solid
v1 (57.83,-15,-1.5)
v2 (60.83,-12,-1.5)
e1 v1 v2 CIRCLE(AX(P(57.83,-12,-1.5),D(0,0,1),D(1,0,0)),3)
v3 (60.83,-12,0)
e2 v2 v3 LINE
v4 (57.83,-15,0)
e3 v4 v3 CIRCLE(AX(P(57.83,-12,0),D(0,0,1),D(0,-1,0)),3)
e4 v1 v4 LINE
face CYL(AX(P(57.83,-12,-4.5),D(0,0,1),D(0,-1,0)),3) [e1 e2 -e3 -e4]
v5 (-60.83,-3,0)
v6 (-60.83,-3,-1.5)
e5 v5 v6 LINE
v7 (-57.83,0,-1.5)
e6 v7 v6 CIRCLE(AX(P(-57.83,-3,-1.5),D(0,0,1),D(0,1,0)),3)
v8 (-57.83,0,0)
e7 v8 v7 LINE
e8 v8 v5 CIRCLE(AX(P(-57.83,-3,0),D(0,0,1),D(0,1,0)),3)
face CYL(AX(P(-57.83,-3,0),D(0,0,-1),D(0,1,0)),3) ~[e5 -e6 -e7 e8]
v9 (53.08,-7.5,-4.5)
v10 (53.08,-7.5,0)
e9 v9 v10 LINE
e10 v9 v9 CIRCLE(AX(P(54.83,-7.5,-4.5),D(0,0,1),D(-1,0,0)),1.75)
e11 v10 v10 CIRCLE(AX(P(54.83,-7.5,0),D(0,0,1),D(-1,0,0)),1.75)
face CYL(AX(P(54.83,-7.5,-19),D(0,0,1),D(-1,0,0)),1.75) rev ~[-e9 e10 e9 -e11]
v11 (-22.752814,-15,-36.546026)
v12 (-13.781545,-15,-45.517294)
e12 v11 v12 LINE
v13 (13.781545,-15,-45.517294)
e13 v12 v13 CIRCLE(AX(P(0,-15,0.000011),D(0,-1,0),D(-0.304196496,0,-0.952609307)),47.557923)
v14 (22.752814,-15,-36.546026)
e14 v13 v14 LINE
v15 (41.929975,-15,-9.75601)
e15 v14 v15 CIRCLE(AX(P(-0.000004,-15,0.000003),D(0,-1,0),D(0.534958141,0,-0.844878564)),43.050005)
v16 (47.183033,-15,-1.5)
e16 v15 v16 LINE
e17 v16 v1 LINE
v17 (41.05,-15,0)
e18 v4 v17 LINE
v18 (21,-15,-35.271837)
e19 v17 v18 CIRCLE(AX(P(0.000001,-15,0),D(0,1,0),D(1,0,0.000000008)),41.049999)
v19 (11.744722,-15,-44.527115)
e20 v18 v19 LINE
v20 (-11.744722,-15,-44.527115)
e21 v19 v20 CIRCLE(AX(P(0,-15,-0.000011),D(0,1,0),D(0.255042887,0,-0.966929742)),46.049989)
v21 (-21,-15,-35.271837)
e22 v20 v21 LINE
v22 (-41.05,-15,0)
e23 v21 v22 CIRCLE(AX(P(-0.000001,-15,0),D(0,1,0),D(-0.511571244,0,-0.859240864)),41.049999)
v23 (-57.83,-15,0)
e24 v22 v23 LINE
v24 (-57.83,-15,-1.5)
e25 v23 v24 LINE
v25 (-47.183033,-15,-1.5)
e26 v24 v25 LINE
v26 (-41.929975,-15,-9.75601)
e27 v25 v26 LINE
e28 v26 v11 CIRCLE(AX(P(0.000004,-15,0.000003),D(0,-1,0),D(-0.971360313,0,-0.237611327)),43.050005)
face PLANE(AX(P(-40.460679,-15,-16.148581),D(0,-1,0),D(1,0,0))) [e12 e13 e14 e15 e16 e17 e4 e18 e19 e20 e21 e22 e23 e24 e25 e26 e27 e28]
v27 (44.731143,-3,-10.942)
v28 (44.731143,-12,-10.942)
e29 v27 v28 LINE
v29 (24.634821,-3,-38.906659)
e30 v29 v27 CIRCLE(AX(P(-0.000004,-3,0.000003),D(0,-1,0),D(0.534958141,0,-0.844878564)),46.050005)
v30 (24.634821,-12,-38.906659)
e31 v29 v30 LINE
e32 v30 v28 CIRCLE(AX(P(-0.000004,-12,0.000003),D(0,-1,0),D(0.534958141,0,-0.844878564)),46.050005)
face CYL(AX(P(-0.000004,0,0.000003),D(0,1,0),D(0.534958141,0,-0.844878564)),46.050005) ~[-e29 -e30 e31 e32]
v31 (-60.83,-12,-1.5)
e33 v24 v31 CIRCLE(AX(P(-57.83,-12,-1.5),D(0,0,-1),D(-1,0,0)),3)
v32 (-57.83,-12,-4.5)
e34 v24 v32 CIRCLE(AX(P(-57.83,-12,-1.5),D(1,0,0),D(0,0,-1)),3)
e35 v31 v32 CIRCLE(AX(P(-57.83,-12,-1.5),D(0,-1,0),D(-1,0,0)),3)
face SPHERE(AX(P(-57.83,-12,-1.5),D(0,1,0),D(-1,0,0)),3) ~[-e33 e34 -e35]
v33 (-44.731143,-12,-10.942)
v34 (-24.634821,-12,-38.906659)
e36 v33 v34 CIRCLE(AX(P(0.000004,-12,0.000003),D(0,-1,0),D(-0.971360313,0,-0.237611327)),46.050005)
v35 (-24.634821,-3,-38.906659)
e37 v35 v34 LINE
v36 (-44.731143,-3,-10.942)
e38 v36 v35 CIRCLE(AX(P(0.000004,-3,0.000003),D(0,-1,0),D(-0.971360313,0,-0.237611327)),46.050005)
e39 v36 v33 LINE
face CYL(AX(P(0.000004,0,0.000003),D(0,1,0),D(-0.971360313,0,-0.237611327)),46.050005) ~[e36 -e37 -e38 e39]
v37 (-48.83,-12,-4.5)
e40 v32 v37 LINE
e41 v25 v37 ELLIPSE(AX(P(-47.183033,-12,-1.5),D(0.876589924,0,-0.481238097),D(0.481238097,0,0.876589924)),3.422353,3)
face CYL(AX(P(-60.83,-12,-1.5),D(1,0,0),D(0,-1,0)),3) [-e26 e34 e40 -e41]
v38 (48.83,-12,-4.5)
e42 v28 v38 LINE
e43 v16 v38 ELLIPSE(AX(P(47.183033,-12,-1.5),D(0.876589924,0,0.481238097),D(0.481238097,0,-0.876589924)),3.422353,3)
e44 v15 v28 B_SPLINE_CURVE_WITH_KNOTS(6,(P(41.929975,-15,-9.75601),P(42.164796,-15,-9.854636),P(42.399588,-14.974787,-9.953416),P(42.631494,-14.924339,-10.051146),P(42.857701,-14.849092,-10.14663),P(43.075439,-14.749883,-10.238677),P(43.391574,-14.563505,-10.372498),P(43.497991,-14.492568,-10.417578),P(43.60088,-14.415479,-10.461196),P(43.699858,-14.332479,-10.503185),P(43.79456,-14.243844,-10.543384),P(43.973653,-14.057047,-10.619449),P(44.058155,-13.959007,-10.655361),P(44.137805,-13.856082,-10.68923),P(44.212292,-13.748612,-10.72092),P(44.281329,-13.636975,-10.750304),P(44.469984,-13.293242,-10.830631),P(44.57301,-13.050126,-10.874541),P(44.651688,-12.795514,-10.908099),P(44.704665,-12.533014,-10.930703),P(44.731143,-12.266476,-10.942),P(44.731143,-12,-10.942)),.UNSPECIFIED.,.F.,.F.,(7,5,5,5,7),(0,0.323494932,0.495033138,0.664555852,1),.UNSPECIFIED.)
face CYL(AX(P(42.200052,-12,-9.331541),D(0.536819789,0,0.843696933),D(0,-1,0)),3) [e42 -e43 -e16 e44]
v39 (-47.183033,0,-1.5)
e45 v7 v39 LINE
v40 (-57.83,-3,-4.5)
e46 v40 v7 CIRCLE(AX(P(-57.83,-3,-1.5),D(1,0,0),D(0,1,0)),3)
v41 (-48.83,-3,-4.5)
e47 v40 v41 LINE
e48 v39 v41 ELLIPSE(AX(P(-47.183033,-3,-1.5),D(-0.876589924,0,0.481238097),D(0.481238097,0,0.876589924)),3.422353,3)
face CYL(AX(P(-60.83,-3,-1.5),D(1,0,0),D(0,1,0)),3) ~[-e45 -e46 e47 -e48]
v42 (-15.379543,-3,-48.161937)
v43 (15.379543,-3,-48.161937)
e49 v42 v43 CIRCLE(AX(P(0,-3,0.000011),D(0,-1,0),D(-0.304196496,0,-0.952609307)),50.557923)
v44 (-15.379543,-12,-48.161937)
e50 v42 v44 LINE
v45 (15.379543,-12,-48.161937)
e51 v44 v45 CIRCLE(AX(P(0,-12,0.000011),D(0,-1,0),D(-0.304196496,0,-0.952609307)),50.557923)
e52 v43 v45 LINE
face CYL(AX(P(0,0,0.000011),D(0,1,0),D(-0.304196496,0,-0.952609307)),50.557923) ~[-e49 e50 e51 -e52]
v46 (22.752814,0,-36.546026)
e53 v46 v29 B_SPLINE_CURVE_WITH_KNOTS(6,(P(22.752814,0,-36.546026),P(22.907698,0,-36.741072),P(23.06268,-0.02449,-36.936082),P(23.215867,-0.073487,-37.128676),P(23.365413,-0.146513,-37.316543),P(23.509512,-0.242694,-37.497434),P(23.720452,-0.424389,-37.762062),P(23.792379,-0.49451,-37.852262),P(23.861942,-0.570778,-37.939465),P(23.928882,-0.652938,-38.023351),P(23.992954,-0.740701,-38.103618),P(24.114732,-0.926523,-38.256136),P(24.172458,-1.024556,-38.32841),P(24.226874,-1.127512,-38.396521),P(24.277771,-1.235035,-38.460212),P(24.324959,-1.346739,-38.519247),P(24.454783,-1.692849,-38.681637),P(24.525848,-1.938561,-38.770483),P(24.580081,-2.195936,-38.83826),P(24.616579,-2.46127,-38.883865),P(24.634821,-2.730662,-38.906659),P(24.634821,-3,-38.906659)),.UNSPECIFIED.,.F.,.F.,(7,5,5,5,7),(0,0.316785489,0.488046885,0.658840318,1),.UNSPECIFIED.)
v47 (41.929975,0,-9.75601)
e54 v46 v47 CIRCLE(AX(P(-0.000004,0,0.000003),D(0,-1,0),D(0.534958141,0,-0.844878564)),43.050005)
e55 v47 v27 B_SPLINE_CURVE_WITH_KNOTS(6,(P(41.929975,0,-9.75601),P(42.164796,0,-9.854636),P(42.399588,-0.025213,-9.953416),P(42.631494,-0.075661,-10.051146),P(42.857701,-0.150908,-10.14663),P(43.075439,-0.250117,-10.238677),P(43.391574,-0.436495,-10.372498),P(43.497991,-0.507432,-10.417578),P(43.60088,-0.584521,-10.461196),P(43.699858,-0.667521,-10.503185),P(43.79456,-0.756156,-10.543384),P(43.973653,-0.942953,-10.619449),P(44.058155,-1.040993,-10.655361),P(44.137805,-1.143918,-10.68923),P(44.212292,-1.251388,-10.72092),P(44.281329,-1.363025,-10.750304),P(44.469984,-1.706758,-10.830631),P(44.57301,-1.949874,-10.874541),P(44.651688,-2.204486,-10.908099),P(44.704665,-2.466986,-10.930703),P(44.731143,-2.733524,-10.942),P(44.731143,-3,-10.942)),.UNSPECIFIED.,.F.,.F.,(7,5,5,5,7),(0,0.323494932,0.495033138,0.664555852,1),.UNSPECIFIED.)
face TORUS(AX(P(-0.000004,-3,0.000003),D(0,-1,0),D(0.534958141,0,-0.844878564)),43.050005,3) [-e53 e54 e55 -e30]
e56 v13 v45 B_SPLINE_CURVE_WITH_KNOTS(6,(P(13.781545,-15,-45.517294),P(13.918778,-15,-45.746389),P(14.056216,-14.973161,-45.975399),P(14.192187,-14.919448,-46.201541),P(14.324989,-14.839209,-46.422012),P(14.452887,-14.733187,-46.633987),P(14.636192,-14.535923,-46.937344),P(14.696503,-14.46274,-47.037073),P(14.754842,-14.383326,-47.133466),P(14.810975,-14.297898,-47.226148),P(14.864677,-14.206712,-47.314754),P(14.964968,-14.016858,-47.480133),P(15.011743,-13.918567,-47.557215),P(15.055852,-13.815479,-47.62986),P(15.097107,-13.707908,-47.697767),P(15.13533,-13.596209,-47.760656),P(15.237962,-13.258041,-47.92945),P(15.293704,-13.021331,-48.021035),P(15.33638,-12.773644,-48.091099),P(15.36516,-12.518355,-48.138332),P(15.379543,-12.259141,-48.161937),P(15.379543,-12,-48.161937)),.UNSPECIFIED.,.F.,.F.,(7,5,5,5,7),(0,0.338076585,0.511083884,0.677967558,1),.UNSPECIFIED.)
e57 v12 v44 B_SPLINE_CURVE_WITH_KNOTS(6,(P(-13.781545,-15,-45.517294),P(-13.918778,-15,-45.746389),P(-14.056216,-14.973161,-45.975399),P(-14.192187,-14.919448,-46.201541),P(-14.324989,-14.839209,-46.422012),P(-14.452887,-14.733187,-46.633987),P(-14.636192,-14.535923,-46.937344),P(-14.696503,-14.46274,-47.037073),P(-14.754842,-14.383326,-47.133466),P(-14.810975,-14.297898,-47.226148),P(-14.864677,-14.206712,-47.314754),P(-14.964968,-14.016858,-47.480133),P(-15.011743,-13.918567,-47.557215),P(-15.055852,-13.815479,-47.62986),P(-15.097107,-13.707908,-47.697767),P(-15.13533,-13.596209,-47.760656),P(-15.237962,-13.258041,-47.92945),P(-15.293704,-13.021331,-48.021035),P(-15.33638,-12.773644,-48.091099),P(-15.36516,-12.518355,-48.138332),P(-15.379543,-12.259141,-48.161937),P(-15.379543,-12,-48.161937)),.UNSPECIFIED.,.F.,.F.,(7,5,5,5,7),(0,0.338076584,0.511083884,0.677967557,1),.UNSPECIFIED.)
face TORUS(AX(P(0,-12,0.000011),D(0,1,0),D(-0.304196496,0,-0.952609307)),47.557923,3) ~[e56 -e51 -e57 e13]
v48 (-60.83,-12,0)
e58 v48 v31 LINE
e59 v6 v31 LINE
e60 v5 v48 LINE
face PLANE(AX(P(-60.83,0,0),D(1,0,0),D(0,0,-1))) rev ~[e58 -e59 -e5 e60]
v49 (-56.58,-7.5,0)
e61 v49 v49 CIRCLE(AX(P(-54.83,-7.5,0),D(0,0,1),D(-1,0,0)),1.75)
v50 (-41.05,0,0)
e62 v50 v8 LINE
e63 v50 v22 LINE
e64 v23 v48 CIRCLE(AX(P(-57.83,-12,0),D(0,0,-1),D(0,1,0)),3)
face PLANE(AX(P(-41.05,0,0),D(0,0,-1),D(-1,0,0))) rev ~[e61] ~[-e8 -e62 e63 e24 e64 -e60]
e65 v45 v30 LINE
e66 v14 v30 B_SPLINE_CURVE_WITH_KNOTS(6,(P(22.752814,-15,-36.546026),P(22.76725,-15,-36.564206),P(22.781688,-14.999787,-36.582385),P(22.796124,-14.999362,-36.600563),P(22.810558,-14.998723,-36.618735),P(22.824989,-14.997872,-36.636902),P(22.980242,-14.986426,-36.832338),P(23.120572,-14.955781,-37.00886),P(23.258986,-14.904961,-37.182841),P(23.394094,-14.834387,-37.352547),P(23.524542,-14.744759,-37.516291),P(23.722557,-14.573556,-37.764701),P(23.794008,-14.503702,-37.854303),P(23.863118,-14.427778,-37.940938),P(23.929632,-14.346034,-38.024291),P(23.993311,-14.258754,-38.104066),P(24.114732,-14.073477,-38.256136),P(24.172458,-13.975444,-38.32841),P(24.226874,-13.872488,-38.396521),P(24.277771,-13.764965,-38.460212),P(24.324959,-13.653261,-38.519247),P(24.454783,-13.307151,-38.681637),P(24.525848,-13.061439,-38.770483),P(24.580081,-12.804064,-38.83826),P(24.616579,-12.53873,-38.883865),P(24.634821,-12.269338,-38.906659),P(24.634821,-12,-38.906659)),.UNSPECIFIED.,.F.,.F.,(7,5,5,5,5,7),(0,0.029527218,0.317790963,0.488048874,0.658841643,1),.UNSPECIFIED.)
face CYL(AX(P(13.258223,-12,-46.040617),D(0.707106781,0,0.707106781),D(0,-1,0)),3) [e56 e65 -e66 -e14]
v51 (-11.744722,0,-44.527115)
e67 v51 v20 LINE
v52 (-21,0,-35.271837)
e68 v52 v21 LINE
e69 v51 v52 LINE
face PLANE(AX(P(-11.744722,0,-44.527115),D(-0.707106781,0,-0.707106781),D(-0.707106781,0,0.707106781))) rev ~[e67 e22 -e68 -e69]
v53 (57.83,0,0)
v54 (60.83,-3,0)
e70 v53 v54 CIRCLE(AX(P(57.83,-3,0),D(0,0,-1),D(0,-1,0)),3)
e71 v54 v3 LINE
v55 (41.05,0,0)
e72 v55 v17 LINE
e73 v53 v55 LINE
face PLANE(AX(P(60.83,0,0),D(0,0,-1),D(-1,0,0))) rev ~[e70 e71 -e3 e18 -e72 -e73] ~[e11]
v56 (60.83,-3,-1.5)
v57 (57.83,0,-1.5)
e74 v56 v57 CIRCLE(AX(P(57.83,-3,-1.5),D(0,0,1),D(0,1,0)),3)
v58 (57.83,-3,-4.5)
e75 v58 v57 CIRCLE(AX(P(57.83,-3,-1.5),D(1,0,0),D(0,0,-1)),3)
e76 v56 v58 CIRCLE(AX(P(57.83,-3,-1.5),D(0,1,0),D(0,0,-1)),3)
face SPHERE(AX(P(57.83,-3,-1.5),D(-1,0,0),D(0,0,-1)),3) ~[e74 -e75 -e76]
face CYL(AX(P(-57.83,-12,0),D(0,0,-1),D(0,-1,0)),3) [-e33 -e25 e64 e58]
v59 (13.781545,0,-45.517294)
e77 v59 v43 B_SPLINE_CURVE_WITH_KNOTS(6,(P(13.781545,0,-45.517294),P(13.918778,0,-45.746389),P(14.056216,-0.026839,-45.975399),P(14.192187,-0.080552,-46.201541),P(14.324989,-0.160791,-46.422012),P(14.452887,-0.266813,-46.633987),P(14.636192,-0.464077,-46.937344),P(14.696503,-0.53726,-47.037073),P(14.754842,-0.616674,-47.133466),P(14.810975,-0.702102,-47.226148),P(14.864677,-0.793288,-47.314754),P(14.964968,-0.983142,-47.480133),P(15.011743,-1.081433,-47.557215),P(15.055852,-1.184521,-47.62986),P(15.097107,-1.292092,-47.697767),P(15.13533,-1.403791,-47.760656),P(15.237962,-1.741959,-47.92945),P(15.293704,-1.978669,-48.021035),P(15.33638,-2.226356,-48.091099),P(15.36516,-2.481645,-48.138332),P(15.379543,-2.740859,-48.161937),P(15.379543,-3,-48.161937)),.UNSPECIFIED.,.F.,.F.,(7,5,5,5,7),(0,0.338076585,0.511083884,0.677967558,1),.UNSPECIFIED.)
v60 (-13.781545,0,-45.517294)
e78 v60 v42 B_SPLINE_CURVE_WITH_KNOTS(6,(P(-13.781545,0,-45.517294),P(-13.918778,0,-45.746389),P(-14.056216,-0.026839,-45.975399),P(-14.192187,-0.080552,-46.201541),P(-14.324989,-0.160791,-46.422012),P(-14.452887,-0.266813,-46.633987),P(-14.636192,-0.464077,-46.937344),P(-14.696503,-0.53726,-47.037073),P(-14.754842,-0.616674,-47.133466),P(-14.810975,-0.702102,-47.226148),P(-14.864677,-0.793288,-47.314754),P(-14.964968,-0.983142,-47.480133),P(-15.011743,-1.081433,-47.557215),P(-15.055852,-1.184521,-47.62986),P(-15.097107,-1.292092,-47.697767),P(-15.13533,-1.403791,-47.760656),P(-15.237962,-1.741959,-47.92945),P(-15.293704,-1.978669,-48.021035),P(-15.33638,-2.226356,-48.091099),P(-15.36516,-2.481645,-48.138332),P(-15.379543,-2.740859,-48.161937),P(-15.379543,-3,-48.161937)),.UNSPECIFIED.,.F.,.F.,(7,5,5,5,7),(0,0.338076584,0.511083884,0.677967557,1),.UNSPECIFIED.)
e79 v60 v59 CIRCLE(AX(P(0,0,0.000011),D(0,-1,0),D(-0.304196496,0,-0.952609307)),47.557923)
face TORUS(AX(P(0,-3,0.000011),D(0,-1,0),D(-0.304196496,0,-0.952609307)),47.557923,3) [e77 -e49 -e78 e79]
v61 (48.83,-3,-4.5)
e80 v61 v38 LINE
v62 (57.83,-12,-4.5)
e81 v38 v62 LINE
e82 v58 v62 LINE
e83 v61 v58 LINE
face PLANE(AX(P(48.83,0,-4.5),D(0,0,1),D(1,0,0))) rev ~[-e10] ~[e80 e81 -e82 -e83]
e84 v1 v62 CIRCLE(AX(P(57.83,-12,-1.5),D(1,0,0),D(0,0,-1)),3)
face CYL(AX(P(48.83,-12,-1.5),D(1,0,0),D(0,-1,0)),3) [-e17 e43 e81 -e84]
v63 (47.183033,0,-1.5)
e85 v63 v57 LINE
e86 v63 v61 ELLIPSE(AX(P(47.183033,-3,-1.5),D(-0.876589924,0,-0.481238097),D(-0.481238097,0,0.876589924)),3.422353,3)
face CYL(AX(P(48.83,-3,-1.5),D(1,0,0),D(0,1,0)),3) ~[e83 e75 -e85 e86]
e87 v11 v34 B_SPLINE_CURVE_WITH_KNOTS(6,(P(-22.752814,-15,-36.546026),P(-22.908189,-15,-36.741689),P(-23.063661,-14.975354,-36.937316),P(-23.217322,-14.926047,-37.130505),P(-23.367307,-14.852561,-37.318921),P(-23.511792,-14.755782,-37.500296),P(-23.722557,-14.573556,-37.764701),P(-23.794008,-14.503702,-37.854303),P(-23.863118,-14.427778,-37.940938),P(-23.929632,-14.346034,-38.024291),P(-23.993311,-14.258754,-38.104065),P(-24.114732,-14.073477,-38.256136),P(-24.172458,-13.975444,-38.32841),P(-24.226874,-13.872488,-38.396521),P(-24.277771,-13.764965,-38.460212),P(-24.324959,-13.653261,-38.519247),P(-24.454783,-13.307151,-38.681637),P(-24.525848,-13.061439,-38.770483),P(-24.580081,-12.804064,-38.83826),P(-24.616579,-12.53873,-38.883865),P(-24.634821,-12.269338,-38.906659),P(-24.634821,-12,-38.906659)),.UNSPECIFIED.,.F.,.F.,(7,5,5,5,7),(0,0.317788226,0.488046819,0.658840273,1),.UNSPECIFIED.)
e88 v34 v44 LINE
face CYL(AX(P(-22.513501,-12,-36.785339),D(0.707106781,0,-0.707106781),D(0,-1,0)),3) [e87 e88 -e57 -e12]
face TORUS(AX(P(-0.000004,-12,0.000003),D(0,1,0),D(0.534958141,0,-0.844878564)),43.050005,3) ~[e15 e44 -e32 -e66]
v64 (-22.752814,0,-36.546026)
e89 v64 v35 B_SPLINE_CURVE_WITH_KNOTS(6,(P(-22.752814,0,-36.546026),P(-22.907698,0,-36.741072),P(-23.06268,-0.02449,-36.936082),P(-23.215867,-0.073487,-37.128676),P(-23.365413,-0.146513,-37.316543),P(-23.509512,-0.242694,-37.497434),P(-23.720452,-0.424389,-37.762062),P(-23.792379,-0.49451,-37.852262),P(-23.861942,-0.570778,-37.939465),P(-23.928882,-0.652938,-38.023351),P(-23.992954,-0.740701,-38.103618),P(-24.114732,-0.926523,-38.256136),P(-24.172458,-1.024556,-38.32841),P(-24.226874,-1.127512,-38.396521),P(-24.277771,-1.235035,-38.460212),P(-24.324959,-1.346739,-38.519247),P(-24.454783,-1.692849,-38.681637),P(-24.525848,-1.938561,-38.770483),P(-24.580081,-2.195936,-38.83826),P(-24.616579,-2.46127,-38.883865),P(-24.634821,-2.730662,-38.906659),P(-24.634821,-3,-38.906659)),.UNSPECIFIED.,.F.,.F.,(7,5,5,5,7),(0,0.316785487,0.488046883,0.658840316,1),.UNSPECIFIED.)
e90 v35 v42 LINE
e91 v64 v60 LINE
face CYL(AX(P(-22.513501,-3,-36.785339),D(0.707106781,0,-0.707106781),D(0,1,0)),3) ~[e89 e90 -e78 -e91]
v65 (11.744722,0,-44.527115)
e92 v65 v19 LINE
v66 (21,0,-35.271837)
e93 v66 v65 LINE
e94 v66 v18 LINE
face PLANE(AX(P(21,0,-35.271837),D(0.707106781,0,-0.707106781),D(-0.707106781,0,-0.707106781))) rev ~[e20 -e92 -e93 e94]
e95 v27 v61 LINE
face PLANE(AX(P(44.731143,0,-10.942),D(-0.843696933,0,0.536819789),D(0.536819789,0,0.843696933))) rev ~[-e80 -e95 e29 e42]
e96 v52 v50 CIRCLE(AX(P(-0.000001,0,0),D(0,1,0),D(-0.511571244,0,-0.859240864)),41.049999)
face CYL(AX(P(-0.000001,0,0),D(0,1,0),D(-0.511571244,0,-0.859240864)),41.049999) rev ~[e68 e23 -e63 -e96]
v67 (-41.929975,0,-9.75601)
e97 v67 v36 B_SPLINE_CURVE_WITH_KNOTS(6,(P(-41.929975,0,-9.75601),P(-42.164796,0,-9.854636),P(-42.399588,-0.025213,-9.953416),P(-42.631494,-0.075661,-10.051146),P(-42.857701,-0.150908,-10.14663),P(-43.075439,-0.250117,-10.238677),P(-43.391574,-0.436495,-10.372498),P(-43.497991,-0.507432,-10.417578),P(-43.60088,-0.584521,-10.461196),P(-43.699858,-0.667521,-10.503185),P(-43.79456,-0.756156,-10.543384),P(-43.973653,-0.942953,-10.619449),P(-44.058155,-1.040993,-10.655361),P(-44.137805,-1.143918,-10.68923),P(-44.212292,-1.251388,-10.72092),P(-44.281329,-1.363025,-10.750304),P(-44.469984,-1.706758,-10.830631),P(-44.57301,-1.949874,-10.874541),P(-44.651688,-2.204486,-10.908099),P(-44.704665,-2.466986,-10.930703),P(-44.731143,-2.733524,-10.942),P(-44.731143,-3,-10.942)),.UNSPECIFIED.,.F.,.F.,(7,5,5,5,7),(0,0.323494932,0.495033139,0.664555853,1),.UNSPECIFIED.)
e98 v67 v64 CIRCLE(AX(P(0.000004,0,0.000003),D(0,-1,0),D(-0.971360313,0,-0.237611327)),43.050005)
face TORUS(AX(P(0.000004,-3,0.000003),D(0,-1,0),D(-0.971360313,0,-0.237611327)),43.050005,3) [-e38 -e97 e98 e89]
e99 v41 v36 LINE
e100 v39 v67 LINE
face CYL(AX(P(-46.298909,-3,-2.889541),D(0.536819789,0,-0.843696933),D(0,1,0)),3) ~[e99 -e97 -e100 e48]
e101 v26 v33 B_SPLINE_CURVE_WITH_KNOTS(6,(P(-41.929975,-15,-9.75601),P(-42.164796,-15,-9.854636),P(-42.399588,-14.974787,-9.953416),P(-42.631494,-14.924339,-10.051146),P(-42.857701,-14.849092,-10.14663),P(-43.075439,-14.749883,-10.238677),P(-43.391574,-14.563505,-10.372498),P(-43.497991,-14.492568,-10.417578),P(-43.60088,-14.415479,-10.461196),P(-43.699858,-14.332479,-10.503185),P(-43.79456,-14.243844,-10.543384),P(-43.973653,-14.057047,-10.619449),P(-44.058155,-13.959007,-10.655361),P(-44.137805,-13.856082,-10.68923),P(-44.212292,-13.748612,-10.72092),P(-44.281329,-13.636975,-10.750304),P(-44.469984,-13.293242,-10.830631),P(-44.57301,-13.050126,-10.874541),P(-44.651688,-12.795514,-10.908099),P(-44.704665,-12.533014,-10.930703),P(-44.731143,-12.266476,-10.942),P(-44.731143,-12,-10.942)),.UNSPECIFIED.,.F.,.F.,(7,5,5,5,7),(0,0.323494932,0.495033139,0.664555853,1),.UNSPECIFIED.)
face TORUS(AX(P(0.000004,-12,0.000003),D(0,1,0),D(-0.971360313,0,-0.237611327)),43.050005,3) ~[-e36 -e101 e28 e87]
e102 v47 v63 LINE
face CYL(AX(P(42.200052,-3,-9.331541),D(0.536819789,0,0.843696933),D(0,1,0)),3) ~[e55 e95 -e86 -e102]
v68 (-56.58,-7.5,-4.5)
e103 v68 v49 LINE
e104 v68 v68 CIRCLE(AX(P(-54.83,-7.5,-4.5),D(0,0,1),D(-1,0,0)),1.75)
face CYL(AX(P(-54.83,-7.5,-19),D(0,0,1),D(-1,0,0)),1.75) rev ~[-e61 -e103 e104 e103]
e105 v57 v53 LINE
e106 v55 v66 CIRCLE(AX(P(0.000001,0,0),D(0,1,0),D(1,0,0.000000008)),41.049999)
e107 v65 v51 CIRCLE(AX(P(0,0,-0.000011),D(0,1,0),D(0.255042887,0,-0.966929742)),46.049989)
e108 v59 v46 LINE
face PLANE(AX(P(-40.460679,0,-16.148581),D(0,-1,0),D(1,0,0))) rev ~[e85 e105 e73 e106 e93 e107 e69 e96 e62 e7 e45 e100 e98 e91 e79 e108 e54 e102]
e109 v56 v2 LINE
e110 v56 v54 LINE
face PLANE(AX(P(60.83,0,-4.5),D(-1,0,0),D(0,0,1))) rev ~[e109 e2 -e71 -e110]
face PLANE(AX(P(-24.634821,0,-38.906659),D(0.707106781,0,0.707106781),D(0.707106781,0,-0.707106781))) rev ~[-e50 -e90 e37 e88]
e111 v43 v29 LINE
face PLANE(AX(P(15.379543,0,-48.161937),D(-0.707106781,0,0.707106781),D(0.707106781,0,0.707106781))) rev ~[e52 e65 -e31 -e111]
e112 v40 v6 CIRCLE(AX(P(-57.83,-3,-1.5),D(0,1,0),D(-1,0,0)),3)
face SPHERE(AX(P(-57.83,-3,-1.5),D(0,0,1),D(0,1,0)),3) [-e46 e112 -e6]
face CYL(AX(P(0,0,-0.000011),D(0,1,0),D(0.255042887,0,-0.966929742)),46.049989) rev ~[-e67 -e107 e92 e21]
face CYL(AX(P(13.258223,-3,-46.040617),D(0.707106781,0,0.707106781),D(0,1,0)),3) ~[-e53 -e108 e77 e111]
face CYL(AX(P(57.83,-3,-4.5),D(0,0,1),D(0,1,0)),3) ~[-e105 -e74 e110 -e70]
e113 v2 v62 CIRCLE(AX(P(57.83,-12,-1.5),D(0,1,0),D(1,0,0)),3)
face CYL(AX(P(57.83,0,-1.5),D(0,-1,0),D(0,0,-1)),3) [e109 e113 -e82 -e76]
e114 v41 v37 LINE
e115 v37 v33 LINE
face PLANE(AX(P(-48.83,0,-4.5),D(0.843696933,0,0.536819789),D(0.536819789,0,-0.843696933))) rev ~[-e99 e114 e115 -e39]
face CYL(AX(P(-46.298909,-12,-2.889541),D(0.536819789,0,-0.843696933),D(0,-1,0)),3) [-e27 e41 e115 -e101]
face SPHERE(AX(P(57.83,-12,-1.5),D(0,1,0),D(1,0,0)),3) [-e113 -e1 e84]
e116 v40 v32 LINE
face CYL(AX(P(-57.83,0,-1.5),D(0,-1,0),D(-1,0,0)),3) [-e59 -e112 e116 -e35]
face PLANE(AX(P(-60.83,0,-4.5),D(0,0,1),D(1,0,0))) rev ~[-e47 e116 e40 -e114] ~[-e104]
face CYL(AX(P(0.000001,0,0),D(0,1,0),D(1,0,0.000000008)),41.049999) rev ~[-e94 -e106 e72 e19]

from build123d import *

# Parameters (mm, degrees)
F1_DEPTH = 15
F4_D     = 3.5
F4_DEPTH = 14.5
F5_R     = 3


with BuildPart() as f1:
    # F0 (on Front) → F1 (new body)
    with BuildSketch(Plane.XZ):
        with BuildLine():
            ThreePointArc((-21, -35.271837), (-35.6872, -20.28611), (-41.05, 0))
            Line((-41.05, 0), (-60.83, 0))
            Line((-60.83, 0), (-60.83, -4.5))
            Line((-60.83, -4.5), (-48.83, -4.5))
            Line((-48.83, -4.5), (-44.731143, -10.942))
            ThreePointArc((-44.731143, -10.942), (-37.395384, -26.873551), (-24.634821, -38.906659))
            Line((-24.634821, -38.906659), (-21, -35.271837))
        make_face()
        with BuildLine():
            ThreePointArc((41.05, 0), (35.6872, -20.28611), (21, -35.271837))
            Line((21, -35.271837), (24.634821, -38.906659))
            ThreePointArc((24.634821, -38.906659), (37.395384, -26.873551), (44.731143, -10.942))
            Line((44.731143, -10.942), (48.83, -4.5))
            Line((48.83, -4.5), (60.83, -4.5))
            Line((60.83, -4.5), (60.83, 0))
            Line((60.83, 0), (41.05, 0))
        make_face()
        with BuildLine():
            ThreePointArc((11.744722, -44.527115), (0, -46.05), (-11.744722, -44.527115))
            Line((-11.744722, -44.527115), (-15.379543, -48.161937))
            ThreePointArc((-15.379543, -48.161937), (0, -50.557912), (15.379543, -48.161937))
            Line((15.379543, -48.161937), (11.744722, -44.527115))
        make_face()
        Polygon((-11.744722, -44.527115), (-21, -35.271837), (-24.634821, -38.906659), (-15.379543, -48.161937), align=None)
        Polygon((24.634821, -38.906659), (21, -35.271837), (11.744722, -44.527115), (15.379543, -48.161937), align=None)
    extrude(amount=F1_DEPTH)

    # F4
    with Locations(Plane(origin=(0, 0, -4.5), x_dir=(1, 0, 0), z_dir=(0, 0, -1))):
        with Locations((-54.83, 7.5), (54.83, 7.5)):
            Hole(F4_D / 2, depth=F4_DEPTH)

    # F5
    f5_edges = [f1.edges().sort_by_distance(p)[0] for p in [
        (-60.83, 0, -2.25),
        (-54.83, 0, -4.5),
        (-60.83, -7.5, -4.5),
        (-60.83, -15, -2.25),
        (-54.83, -15, -4.5),
        (-46.780571, -15, -7.721),
        (-46.780571, 0, -7.721),
        (-20.007182, 0, -43.534298),
        (-37.395384, 0, -26.873551),
        (0, 0, -50.557912),
        (20.007182, 0, -43.534298),
        (37.395384, 0, -26.873551),
        (46.780571, 0, -7.721),
        (54.83, 0, -4.5),
        (60.83, -7.5, -4.5),
        (60.83, -15, -2.25),
        (54.83, -15, -4.5),
        (46.780571, -15, -7.721),
        (-20.007182, -15, -43.534298),
        (0, -15, -50.557912),
        (20.007182, -15, -43.534298),
        (37.395384, -15, -26.873551),
        (-37.395384, -15, -26.873551),
        (60.83, 0, -2.25),
    ]]
    fillet(f5_edges, radius=F5_R)


solid = f1.part
